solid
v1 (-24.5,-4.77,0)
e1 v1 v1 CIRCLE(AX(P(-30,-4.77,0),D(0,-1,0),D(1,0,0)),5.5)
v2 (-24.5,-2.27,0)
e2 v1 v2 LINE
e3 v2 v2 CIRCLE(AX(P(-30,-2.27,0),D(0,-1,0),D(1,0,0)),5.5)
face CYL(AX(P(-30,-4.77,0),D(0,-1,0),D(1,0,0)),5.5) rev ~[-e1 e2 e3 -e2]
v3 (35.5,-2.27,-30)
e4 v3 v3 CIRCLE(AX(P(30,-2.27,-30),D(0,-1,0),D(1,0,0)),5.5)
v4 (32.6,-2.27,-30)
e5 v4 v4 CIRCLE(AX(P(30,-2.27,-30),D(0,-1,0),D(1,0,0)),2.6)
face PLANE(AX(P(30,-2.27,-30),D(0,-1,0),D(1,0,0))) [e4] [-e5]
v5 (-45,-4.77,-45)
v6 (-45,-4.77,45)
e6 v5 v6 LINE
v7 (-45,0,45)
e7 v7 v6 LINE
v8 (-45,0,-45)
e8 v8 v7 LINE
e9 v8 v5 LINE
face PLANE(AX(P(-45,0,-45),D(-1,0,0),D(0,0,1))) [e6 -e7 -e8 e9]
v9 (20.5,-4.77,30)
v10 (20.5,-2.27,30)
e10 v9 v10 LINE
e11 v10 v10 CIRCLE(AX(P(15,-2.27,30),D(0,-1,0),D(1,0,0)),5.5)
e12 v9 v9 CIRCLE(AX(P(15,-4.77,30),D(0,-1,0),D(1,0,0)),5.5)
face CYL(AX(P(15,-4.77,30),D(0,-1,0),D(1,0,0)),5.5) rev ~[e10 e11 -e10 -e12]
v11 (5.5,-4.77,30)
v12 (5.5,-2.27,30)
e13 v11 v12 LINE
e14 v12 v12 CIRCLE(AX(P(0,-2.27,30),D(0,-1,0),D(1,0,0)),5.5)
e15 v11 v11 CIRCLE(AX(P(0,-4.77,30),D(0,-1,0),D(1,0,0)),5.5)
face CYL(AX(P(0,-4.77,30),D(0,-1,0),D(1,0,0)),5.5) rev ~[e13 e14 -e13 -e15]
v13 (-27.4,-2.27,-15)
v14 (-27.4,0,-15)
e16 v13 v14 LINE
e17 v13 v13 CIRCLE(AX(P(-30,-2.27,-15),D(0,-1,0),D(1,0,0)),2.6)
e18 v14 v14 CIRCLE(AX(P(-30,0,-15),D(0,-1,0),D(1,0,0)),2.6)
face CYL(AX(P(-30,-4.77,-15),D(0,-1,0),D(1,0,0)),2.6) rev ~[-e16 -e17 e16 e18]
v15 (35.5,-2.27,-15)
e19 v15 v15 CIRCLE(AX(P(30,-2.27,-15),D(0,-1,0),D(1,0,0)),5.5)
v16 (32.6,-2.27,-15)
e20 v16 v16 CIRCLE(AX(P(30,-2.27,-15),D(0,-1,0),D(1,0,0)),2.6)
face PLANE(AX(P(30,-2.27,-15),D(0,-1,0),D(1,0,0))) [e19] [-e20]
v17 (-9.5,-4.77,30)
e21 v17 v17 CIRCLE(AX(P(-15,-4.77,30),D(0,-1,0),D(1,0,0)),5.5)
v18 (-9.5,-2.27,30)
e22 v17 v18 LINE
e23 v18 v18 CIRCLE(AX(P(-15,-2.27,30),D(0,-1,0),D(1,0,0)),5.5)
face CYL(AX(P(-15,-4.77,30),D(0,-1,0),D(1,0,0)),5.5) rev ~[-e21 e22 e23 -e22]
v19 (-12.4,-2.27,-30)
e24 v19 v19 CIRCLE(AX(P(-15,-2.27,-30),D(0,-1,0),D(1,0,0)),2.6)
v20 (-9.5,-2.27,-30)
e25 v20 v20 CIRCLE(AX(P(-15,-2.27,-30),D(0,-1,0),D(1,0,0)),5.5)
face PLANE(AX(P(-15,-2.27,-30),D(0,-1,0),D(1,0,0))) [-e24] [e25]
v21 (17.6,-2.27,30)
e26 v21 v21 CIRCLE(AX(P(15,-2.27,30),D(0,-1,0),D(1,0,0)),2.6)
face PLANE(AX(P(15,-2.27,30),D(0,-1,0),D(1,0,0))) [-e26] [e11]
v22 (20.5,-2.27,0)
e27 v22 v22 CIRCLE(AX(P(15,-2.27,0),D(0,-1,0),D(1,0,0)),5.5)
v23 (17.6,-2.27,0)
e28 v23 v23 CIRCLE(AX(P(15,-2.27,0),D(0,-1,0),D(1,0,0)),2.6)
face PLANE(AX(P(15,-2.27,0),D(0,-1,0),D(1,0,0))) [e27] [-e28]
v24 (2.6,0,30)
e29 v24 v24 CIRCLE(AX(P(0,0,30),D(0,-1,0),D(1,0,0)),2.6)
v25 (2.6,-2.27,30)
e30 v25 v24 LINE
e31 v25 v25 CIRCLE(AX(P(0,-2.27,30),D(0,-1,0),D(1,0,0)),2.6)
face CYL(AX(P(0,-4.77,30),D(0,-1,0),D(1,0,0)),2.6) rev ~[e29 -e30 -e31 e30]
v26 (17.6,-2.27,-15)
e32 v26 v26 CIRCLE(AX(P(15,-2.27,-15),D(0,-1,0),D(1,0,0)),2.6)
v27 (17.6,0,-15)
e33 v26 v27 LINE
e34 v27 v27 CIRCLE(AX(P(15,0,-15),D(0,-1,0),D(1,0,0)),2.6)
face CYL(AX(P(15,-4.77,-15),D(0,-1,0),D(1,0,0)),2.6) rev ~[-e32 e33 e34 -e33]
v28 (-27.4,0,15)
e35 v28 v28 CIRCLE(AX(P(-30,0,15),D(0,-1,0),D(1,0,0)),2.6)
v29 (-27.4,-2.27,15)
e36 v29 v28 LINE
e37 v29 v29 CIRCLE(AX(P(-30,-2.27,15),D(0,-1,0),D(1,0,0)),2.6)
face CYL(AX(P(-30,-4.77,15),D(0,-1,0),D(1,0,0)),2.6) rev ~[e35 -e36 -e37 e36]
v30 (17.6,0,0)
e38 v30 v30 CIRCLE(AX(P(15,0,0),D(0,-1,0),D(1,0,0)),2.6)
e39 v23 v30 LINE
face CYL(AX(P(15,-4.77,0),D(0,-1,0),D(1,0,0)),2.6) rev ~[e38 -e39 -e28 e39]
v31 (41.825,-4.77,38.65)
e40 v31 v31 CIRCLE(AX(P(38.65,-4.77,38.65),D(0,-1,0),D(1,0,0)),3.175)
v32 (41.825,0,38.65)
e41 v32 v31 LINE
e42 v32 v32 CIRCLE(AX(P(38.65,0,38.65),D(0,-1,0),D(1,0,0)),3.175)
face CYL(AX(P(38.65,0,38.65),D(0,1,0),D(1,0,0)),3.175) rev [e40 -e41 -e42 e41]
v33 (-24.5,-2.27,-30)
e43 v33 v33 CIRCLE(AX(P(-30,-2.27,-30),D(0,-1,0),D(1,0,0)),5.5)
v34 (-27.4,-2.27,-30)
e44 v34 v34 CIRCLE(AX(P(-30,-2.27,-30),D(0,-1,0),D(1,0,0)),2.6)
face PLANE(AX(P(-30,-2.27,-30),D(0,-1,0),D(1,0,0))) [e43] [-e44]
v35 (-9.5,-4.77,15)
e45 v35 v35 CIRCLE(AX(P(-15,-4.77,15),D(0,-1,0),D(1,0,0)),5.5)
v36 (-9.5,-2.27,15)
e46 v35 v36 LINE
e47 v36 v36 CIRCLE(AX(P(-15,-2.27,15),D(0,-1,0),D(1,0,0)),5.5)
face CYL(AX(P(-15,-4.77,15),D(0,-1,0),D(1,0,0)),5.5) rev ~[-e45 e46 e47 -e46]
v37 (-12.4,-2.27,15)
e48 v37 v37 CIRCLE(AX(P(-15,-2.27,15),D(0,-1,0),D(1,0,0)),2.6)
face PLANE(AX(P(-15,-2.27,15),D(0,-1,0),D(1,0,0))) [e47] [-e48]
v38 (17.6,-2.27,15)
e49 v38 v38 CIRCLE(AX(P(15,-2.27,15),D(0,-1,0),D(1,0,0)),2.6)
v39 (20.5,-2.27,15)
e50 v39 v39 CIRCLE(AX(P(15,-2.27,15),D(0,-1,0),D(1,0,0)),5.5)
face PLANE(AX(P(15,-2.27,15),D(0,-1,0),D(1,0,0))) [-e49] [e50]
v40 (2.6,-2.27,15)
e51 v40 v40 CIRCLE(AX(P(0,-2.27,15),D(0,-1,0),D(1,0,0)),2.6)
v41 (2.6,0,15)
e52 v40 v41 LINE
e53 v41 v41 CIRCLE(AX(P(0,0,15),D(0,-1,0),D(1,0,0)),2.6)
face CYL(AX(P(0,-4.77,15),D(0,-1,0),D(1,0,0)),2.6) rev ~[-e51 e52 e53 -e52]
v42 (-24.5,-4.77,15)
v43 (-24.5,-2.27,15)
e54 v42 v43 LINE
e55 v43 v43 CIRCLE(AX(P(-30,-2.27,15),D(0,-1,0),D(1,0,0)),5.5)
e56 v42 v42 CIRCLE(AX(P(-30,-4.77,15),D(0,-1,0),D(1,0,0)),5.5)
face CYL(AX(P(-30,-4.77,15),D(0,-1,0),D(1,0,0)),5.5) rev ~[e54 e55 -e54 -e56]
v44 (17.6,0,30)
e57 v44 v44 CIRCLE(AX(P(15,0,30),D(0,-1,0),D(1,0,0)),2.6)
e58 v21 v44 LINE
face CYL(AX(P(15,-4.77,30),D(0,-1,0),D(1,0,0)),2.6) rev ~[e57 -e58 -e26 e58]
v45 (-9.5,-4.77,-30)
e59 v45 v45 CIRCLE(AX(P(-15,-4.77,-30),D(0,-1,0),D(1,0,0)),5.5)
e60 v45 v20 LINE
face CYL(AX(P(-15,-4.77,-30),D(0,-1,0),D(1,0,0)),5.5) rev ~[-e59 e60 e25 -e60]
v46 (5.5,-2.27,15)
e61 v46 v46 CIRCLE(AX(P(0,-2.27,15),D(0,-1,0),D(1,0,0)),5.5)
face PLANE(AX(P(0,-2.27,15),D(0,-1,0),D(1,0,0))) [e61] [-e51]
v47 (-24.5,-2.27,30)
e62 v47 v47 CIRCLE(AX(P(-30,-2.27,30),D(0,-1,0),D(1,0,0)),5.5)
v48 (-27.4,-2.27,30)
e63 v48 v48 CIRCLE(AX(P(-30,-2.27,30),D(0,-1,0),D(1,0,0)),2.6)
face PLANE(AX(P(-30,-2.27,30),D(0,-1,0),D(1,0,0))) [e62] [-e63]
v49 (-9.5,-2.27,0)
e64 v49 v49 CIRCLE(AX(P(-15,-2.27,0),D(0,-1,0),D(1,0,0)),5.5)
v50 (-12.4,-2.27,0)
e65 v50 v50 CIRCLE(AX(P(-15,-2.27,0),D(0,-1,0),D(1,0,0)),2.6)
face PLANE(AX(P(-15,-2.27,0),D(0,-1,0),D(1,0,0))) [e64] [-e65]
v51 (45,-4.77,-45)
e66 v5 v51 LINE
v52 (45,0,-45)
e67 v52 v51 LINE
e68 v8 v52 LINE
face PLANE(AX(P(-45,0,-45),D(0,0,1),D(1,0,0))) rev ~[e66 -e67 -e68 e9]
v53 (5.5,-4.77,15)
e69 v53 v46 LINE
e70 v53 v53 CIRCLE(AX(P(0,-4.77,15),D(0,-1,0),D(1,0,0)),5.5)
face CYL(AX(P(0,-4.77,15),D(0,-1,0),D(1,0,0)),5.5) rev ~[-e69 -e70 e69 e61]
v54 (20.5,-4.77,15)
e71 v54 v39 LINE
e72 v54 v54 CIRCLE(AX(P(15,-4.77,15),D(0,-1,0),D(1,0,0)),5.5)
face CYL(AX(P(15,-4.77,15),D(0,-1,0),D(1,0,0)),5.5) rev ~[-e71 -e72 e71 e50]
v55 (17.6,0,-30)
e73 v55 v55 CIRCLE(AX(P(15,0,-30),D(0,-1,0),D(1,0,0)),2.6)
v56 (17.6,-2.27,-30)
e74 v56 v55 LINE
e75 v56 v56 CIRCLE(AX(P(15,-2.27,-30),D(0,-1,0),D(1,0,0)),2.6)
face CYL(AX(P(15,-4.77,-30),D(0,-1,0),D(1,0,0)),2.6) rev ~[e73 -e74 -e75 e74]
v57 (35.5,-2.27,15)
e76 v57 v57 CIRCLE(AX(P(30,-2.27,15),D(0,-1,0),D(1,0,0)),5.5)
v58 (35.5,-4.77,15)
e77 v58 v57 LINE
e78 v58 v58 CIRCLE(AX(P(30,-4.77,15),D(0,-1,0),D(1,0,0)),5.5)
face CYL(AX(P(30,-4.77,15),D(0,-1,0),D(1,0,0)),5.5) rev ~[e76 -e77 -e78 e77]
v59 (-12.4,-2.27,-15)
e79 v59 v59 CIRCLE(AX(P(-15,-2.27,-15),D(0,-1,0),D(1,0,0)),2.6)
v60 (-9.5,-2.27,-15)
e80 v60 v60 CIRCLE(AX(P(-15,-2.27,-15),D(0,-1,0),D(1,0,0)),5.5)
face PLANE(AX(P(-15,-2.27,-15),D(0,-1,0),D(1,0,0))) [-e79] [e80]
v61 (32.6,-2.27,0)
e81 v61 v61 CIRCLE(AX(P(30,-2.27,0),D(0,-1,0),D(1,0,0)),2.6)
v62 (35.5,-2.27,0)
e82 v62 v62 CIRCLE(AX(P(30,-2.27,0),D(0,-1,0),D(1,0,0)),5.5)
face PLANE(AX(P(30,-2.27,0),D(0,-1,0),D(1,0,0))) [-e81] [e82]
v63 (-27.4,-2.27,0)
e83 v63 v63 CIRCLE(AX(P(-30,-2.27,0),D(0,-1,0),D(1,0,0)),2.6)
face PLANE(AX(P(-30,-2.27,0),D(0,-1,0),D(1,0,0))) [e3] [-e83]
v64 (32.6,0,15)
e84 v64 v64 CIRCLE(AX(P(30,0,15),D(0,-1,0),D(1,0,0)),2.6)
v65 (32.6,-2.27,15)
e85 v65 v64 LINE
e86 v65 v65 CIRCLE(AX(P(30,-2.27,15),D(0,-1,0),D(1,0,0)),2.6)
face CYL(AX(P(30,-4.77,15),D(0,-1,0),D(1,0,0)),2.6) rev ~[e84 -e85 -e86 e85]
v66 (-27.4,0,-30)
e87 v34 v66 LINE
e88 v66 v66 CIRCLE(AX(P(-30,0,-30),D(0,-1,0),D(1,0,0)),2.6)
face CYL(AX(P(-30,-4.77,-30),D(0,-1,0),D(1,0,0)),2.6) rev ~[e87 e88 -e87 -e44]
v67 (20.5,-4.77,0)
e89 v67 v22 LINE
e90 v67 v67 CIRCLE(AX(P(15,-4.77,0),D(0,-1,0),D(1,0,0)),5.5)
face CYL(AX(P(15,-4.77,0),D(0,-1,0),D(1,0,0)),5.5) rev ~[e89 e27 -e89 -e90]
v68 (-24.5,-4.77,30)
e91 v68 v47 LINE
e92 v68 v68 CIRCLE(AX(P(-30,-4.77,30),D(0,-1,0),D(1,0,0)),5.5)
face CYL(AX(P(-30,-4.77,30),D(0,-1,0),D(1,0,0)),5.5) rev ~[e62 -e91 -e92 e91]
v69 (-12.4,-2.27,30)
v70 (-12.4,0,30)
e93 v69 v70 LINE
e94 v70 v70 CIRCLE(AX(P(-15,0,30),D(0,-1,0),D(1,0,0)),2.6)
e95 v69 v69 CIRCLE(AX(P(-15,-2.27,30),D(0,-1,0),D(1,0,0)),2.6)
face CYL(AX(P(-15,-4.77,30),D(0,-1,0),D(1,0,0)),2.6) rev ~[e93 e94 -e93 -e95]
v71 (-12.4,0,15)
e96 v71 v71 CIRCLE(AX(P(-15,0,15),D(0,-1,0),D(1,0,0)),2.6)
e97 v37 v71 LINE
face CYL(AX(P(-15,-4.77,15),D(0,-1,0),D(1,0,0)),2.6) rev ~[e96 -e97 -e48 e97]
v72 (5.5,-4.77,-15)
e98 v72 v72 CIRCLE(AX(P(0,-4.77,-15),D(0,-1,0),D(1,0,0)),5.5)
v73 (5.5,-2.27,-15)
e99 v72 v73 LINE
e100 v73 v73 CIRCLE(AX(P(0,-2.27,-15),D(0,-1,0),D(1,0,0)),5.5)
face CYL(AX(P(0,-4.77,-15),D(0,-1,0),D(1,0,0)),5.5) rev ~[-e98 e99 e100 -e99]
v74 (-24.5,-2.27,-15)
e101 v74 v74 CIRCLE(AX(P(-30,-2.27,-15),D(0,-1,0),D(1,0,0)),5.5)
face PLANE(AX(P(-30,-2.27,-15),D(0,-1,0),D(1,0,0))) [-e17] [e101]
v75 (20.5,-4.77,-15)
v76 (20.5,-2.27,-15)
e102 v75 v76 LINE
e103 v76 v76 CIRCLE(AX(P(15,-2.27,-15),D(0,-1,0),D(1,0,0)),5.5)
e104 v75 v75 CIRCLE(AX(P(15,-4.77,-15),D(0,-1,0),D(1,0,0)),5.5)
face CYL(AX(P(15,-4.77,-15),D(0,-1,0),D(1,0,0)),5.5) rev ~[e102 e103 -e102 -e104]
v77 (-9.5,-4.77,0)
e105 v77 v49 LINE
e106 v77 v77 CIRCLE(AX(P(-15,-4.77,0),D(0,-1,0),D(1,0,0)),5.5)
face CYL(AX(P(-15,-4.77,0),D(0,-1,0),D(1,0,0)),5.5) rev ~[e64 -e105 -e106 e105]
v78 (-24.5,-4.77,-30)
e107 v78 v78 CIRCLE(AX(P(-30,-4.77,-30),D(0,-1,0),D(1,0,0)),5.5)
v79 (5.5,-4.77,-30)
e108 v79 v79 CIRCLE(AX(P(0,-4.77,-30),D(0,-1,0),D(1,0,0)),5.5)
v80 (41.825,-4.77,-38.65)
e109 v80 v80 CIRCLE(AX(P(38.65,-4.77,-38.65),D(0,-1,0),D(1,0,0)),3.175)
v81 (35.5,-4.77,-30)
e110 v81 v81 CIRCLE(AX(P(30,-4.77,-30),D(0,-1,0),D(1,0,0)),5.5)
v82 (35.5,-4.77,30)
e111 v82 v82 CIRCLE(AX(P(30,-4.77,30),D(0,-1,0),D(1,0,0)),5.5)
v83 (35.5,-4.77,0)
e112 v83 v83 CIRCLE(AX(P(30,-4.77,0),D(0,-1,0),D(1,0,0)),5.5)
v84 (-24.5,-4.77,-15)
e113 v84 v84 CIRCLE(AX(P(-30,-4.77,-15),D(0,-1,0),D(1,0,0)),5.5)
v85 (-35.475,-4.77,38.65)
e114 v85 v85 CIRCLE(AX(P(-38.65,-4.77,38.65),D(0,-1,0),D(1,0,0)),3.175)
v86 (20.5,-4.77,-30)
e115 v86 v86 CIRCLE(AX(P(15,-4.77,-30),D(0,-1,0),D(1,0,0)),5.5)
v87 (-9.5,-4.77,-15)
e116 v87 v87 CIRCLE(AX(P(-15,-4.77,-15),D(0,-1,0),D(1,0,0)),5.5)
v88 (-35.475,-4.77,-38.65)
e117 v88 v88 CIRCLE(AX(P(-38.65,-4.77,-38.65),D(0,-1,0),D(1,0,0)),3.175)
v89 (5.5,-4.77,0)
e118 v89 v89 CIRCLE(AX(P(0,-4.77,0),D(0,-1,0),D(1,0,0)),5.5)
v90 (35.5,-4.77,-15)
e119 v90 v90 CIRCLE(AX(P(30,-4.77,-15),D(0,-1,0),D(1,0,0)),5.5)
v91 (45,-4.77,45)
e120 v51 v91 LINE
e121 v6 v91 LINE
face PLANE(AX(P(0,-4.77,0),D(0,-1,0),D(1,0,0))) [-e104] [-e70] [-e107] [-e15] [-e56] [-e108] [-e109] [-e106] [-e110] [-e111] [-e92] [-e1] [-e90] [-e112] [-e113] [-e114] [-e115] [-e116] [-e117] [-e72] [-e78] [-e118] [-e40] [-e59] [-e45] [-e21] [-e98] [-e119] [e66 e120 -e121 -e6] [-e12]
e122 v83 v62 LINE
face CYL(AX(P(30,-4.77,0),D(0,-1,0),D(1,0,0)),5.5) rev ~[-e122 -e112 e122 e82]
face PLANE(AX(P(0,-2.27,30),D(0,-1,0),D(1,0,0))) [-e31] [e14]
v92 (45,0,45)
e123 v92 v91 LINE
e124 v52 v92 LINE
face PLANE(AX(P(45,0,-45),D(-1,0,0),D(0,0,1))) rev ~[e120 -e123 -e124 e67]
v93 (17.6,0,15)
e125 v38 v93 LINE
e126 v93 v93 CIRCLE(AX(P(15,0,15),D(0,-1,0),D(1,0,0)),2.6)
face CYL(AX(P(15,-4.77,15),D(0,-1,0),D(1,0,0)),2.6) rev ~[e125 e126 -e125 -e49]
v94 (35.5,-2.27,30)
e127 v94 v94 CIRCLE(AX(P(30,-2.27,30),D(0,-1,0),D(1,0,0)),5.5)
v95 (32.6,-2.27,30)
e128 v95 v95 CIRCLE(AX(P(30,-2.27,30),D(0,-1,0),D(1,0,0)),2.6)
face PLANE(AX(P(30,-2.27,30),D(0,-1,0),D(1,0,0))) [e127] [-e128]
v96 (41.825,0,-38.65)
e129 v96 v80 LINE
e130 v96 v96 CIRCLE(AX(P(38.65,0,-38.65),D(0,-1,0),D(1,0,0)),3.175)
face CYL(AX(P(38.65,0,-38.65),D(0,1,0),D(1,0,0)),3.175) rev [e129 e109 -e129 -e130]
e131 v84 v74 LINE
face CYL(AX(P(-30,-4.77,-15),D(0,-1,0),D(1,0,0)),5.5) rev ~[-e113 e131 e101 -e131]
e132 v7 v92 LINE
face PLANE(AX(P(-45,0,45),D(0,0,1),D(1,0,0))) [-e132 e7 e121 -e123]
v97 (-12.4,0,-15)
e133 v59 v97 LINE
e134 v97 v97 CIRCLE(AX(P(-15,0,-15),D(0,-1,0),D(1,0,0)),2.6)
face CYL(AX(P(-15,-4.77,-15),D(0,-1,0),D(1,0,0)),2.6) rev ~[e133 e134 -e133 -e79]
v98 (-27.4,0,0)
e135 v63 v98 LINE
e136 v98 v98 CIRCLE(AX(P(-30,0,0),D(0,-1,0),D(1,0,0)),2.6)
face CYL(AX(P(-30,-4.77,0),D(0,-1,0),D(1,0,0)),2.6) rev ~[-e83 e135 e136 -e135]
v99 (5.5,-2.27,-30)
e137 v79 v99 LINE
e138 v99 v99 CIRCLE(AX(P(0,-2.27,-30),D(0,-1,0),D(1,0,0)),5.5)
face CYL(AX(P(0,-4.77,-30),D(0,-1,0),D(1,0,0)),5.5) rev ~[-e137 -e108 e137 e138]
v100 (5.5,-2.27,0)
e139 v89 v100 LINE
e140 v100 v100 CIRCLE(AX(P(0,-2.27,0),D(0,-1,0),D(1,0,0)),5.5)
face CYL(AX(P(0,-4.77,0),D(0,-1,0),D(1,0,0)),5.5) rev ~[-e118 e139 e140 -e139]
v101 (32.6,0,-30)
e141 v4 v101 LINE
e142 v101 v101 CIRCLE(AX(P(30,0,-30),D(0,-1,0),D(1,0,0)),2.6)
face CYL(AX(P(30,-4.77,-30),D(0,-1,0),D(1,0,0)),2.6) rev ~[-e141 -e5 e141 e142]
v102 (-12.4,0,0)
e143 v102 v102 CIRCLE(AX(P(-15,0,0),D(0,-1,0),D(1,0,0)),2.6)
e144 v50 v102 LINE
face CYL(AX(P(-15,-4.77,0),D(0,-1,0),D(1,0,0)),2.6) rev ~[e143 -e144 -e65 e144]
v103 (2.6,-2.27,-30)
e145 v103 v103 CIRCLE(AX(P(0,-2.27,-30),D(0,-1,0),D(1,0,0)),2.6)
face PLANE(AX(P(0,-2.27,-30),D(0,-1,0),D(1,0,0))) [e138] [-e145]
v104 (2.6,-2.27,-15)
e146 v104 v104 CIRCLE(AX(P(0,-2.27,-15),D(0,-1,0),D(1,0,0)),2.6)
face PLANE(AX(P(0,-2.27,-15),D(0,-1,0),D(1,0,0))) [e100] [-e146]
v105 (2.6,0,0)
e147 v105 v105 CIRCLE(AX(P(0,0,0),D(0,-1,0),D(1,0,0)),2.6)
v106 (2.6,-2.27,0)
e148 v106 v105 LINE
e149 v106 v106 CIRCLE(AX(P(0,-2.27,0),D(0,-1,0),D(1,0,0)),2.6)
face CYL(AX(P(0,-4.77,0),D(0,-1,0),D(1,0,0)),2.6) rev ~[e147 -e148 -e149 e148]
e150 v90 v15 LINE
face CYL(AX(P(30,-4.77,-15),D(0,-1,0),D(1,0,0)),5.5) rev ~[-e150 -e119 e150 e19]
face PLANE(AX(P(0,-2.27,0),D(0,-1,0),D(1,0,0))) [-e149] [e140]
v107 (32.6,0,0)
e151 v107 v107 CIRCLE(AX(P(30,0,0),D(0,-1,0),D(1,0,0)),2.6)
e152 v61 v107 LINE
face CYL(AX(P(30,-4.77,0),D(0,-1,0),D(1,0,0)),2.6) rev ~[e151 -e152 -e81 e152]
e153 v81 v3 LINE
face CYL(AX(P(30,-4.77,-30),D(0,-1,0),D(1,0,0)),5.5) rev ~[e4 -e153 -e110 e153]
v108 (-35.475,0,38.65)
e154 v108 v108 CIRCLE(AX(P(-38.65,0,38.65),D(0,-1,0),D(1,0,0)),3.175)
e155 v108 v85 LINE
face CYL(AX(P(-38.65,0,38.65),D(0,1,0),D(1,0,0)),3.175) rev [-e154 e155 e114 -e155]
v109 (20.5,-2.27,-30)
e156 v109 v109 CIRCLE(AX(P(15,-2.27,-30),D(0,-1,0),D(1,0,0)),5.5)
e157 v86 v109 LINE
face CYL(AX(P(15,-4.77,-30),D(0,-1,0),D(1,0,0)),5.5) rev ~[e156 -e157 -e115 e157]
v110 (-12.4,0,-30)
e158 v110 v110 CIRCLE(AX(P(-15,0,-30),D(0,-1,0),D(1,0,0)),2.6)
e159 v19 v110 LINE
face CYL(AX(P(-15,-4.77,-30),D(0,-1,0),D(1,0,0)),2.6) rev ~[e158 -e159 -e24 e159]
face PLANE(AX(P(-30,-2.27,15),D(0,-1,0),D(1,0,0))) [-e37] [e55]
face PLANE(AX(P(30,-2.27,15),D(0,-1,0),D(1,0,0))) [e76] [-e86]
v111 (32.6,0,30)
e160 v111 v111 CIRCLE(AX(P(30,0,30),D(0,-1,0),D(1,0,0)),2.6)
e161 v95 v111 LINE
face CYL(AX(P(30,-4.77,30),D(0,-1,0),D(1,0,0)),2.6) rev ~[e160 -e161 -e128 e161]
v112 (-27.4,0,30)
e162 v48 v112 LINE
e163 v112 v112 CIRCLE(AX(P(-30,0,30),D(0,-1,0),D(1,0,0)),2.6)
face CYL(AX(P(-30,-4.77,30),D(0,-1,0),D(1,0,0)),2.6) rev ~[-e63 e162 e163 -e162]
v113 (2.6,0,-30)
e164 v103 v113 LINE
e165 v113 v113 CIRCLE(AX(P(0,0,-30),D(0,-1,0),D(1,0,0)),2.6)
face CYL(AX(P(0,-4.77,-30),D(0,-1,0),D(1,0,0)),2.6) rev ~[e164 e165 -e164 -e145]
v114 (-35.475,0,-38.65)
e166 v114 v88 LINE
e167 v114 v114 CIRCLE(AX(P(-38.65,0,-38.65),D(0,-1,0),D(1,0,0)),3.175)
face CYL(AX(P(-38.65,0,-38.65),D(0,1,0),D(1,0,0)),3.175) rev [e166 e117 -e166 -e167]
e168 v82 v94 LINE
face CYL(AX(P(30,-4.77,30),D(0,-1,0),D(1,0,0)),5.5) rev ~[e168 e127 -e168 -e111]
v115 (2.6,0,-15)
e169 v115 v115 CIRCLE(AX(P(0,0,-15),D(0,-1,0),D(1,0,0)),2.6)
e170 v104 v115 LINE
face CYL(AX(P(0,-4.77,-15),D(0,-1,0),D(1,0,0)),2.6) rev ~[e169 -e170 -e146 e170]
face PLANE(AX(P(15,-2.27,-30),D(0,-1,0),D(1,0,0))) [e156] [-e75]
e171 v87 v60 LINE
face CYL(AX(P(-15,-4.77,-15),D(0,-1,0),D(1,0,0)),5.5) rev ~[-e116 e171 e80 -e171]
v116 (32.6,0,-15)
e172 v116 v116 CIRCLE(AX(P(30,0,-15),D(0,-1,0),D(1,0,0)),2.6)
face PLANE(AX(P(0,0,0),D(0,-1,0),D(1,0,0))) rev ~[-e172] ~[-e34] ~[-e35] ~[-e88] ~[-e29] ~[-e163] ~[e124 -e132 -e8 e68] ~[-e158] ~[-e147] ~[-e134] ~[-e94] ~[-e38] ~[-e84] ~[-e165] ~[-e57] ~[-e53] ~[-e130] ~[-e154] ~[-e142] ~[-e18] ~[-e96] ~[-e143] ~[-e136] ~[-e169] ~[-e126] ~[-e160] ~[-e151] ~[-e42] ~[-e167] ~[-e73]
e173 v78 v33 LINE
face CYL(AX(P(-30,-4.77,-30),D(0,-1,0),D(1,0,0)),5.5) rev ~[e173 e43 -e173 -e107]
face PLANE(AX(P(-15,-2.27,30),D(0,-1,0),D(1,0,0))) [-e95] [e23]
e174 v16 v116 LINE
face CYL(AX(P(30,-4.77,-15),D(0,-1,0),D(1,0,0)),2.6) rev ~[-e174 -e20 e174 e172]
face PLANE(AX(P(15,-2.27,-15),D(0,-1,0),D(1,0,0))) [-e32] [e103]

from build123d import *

# Parameters (mm, degrees)
F0_W     = 90
F0_H     = 90
F0_R     = 3.175
F1_DEPTH = 4.77
F2_R     = 2.6
F3_DEPTH = 4.77
F4_R     = 5.5
F5_DEPTH = 2.5


with BuildPart() as f1:
    # F0 (on Front) → F1 (new body)
    with BuildSketch(Plane.XZ):
        Rectangle(F0_W, F0_H)
        with Locations((-38.65, -38.65)):
            Circle(F0_R, mode=Mode.SUBTRACT)
        with Locations((38.65, -38.65)):
            Circle(F0_R, mode=Mode.SUBTRACT)
        with Locations((-38.65, 38.65)):
            Circle(F0_R, mode=Mode.SUBTRACT)
        with Locations((38.65, 38.65)):
            Circle(F0_R, mode=Mode.SUBTRACT)
    extrude(amount=F1_DEPTH)

    # F2 (on face) → F3 (cut, through all)
    with BuildSketch(Plane.XZ.offset(4.77)):
        with Locations((-30, 30)):
            Circle(F2_R)
        with Locations((-30, 15)):
            Circle(F2_R)
        with Locations((-30, 0)):
            Circle(F2_R)
        with Locations((-30, -15)):
            Circle(F2_R)
        with Locations((-30, -30)):
            Circle(F2_R)
        with Locations((-15, 30)):
            Circle(F2_R)
        with Locations((-15, 15)):
            Circle(F2_R)
        with Locations((-15, 0)):
            Circle(F2_R)
        with Locations((-15, -15)):
            Circle(F2_R)
        with Locations((-15, -30)):
            Circle(F2_R)
        with Locations((0, 30)):
            Circle(F2_R)
        with Locations((0, 15)):
            Circle(F2_R)
        Circle(F2_R)
        with Locations((0, -15)):
            Circle(F2_R)
        with Locations((0, -30)):
            Circle(F2_R)
        with Locations((15, 30)):
            Circle(F2_R)
        with Locations((15, 15)):
            Circle(F2_R)
        with Locations((15, 0)):
            Circle(F2_R)
        with Locations((15, -15)):
            Circle(F2_R)
        with Locations((15, -30)):
            Circle(F2_R)
        with Locations((30, 30)):
            Circle(F2_R)
        with Locations((30, 15)):
            Circle(F2_R)
        with Locations((30, 0)):
            Circle(F2_R)
        with Locations((30, -15)):
            Circle(F2_R)
        with Locations((30, -30)):
            Circle(F2_R)
    extrude(amount=-F3_DEPTH, mode=Mode.SUBTRACT)

    # F4 (on face) → F5 (cut)
    with BuildSketch(Plane.XZ.offset(4.77)):
        with Locations((-30, 30)):
            Circle(F4_R)
        with Locations((-30, 15)):
            Circle(F4_R)
        with Locations((-30, 0)):
            Circle(F4_R)
        with Locations((-30, -15)):
            Circle(F4_R)
        with Locations((-30, -30)):
            Circle(F4_R)
        with Locations((-15, 30)):
            Circle(F4_R)
        with Locations((-15, 15)):
            Circle(F4_R)
        with Locations((-15, 0)):
            Circle(F4_R)
        with Locations((-15, -15)):
            Circle(F4_R)
        with Locations((-15, -30)):
            Circle(F4_R)
        with Locations((0, 30)):
            Circle(F4_R)
        with Locations((0, 15)):
            Circle(F4_R)
        Circle(F4_R)
        with Locations((0, -15)):
            Circle(F4_R)
        with Locations((0, -30)):
            Circle(F4_R)
        with Locations((15, 30)):
            Circle(F4_R)
        with Locations((15, 15)):
            Circle(F4_R)
        with Locations((15, 0)):
            Circle(F4_R)
        with Locations((15, -15)):
            Circle(F4_R)
        with Locations((15, -30)):
            Circle(F4_R)
        with Locations((30, 30)):
            Circle(F4_R)
        with Locations((30, 15)):
            Circle(F4_R)
        with Locations((30, 0)):
            Circle(F4_R)
        with Locations((30, -15)):
            Circle(F4_R)
        with Locations((30, -30)):
            Circle(F4_R)
    extrude(amount=-F5_DEPTH, mode=Mode.SUBTRACT)


solid = f1.part
